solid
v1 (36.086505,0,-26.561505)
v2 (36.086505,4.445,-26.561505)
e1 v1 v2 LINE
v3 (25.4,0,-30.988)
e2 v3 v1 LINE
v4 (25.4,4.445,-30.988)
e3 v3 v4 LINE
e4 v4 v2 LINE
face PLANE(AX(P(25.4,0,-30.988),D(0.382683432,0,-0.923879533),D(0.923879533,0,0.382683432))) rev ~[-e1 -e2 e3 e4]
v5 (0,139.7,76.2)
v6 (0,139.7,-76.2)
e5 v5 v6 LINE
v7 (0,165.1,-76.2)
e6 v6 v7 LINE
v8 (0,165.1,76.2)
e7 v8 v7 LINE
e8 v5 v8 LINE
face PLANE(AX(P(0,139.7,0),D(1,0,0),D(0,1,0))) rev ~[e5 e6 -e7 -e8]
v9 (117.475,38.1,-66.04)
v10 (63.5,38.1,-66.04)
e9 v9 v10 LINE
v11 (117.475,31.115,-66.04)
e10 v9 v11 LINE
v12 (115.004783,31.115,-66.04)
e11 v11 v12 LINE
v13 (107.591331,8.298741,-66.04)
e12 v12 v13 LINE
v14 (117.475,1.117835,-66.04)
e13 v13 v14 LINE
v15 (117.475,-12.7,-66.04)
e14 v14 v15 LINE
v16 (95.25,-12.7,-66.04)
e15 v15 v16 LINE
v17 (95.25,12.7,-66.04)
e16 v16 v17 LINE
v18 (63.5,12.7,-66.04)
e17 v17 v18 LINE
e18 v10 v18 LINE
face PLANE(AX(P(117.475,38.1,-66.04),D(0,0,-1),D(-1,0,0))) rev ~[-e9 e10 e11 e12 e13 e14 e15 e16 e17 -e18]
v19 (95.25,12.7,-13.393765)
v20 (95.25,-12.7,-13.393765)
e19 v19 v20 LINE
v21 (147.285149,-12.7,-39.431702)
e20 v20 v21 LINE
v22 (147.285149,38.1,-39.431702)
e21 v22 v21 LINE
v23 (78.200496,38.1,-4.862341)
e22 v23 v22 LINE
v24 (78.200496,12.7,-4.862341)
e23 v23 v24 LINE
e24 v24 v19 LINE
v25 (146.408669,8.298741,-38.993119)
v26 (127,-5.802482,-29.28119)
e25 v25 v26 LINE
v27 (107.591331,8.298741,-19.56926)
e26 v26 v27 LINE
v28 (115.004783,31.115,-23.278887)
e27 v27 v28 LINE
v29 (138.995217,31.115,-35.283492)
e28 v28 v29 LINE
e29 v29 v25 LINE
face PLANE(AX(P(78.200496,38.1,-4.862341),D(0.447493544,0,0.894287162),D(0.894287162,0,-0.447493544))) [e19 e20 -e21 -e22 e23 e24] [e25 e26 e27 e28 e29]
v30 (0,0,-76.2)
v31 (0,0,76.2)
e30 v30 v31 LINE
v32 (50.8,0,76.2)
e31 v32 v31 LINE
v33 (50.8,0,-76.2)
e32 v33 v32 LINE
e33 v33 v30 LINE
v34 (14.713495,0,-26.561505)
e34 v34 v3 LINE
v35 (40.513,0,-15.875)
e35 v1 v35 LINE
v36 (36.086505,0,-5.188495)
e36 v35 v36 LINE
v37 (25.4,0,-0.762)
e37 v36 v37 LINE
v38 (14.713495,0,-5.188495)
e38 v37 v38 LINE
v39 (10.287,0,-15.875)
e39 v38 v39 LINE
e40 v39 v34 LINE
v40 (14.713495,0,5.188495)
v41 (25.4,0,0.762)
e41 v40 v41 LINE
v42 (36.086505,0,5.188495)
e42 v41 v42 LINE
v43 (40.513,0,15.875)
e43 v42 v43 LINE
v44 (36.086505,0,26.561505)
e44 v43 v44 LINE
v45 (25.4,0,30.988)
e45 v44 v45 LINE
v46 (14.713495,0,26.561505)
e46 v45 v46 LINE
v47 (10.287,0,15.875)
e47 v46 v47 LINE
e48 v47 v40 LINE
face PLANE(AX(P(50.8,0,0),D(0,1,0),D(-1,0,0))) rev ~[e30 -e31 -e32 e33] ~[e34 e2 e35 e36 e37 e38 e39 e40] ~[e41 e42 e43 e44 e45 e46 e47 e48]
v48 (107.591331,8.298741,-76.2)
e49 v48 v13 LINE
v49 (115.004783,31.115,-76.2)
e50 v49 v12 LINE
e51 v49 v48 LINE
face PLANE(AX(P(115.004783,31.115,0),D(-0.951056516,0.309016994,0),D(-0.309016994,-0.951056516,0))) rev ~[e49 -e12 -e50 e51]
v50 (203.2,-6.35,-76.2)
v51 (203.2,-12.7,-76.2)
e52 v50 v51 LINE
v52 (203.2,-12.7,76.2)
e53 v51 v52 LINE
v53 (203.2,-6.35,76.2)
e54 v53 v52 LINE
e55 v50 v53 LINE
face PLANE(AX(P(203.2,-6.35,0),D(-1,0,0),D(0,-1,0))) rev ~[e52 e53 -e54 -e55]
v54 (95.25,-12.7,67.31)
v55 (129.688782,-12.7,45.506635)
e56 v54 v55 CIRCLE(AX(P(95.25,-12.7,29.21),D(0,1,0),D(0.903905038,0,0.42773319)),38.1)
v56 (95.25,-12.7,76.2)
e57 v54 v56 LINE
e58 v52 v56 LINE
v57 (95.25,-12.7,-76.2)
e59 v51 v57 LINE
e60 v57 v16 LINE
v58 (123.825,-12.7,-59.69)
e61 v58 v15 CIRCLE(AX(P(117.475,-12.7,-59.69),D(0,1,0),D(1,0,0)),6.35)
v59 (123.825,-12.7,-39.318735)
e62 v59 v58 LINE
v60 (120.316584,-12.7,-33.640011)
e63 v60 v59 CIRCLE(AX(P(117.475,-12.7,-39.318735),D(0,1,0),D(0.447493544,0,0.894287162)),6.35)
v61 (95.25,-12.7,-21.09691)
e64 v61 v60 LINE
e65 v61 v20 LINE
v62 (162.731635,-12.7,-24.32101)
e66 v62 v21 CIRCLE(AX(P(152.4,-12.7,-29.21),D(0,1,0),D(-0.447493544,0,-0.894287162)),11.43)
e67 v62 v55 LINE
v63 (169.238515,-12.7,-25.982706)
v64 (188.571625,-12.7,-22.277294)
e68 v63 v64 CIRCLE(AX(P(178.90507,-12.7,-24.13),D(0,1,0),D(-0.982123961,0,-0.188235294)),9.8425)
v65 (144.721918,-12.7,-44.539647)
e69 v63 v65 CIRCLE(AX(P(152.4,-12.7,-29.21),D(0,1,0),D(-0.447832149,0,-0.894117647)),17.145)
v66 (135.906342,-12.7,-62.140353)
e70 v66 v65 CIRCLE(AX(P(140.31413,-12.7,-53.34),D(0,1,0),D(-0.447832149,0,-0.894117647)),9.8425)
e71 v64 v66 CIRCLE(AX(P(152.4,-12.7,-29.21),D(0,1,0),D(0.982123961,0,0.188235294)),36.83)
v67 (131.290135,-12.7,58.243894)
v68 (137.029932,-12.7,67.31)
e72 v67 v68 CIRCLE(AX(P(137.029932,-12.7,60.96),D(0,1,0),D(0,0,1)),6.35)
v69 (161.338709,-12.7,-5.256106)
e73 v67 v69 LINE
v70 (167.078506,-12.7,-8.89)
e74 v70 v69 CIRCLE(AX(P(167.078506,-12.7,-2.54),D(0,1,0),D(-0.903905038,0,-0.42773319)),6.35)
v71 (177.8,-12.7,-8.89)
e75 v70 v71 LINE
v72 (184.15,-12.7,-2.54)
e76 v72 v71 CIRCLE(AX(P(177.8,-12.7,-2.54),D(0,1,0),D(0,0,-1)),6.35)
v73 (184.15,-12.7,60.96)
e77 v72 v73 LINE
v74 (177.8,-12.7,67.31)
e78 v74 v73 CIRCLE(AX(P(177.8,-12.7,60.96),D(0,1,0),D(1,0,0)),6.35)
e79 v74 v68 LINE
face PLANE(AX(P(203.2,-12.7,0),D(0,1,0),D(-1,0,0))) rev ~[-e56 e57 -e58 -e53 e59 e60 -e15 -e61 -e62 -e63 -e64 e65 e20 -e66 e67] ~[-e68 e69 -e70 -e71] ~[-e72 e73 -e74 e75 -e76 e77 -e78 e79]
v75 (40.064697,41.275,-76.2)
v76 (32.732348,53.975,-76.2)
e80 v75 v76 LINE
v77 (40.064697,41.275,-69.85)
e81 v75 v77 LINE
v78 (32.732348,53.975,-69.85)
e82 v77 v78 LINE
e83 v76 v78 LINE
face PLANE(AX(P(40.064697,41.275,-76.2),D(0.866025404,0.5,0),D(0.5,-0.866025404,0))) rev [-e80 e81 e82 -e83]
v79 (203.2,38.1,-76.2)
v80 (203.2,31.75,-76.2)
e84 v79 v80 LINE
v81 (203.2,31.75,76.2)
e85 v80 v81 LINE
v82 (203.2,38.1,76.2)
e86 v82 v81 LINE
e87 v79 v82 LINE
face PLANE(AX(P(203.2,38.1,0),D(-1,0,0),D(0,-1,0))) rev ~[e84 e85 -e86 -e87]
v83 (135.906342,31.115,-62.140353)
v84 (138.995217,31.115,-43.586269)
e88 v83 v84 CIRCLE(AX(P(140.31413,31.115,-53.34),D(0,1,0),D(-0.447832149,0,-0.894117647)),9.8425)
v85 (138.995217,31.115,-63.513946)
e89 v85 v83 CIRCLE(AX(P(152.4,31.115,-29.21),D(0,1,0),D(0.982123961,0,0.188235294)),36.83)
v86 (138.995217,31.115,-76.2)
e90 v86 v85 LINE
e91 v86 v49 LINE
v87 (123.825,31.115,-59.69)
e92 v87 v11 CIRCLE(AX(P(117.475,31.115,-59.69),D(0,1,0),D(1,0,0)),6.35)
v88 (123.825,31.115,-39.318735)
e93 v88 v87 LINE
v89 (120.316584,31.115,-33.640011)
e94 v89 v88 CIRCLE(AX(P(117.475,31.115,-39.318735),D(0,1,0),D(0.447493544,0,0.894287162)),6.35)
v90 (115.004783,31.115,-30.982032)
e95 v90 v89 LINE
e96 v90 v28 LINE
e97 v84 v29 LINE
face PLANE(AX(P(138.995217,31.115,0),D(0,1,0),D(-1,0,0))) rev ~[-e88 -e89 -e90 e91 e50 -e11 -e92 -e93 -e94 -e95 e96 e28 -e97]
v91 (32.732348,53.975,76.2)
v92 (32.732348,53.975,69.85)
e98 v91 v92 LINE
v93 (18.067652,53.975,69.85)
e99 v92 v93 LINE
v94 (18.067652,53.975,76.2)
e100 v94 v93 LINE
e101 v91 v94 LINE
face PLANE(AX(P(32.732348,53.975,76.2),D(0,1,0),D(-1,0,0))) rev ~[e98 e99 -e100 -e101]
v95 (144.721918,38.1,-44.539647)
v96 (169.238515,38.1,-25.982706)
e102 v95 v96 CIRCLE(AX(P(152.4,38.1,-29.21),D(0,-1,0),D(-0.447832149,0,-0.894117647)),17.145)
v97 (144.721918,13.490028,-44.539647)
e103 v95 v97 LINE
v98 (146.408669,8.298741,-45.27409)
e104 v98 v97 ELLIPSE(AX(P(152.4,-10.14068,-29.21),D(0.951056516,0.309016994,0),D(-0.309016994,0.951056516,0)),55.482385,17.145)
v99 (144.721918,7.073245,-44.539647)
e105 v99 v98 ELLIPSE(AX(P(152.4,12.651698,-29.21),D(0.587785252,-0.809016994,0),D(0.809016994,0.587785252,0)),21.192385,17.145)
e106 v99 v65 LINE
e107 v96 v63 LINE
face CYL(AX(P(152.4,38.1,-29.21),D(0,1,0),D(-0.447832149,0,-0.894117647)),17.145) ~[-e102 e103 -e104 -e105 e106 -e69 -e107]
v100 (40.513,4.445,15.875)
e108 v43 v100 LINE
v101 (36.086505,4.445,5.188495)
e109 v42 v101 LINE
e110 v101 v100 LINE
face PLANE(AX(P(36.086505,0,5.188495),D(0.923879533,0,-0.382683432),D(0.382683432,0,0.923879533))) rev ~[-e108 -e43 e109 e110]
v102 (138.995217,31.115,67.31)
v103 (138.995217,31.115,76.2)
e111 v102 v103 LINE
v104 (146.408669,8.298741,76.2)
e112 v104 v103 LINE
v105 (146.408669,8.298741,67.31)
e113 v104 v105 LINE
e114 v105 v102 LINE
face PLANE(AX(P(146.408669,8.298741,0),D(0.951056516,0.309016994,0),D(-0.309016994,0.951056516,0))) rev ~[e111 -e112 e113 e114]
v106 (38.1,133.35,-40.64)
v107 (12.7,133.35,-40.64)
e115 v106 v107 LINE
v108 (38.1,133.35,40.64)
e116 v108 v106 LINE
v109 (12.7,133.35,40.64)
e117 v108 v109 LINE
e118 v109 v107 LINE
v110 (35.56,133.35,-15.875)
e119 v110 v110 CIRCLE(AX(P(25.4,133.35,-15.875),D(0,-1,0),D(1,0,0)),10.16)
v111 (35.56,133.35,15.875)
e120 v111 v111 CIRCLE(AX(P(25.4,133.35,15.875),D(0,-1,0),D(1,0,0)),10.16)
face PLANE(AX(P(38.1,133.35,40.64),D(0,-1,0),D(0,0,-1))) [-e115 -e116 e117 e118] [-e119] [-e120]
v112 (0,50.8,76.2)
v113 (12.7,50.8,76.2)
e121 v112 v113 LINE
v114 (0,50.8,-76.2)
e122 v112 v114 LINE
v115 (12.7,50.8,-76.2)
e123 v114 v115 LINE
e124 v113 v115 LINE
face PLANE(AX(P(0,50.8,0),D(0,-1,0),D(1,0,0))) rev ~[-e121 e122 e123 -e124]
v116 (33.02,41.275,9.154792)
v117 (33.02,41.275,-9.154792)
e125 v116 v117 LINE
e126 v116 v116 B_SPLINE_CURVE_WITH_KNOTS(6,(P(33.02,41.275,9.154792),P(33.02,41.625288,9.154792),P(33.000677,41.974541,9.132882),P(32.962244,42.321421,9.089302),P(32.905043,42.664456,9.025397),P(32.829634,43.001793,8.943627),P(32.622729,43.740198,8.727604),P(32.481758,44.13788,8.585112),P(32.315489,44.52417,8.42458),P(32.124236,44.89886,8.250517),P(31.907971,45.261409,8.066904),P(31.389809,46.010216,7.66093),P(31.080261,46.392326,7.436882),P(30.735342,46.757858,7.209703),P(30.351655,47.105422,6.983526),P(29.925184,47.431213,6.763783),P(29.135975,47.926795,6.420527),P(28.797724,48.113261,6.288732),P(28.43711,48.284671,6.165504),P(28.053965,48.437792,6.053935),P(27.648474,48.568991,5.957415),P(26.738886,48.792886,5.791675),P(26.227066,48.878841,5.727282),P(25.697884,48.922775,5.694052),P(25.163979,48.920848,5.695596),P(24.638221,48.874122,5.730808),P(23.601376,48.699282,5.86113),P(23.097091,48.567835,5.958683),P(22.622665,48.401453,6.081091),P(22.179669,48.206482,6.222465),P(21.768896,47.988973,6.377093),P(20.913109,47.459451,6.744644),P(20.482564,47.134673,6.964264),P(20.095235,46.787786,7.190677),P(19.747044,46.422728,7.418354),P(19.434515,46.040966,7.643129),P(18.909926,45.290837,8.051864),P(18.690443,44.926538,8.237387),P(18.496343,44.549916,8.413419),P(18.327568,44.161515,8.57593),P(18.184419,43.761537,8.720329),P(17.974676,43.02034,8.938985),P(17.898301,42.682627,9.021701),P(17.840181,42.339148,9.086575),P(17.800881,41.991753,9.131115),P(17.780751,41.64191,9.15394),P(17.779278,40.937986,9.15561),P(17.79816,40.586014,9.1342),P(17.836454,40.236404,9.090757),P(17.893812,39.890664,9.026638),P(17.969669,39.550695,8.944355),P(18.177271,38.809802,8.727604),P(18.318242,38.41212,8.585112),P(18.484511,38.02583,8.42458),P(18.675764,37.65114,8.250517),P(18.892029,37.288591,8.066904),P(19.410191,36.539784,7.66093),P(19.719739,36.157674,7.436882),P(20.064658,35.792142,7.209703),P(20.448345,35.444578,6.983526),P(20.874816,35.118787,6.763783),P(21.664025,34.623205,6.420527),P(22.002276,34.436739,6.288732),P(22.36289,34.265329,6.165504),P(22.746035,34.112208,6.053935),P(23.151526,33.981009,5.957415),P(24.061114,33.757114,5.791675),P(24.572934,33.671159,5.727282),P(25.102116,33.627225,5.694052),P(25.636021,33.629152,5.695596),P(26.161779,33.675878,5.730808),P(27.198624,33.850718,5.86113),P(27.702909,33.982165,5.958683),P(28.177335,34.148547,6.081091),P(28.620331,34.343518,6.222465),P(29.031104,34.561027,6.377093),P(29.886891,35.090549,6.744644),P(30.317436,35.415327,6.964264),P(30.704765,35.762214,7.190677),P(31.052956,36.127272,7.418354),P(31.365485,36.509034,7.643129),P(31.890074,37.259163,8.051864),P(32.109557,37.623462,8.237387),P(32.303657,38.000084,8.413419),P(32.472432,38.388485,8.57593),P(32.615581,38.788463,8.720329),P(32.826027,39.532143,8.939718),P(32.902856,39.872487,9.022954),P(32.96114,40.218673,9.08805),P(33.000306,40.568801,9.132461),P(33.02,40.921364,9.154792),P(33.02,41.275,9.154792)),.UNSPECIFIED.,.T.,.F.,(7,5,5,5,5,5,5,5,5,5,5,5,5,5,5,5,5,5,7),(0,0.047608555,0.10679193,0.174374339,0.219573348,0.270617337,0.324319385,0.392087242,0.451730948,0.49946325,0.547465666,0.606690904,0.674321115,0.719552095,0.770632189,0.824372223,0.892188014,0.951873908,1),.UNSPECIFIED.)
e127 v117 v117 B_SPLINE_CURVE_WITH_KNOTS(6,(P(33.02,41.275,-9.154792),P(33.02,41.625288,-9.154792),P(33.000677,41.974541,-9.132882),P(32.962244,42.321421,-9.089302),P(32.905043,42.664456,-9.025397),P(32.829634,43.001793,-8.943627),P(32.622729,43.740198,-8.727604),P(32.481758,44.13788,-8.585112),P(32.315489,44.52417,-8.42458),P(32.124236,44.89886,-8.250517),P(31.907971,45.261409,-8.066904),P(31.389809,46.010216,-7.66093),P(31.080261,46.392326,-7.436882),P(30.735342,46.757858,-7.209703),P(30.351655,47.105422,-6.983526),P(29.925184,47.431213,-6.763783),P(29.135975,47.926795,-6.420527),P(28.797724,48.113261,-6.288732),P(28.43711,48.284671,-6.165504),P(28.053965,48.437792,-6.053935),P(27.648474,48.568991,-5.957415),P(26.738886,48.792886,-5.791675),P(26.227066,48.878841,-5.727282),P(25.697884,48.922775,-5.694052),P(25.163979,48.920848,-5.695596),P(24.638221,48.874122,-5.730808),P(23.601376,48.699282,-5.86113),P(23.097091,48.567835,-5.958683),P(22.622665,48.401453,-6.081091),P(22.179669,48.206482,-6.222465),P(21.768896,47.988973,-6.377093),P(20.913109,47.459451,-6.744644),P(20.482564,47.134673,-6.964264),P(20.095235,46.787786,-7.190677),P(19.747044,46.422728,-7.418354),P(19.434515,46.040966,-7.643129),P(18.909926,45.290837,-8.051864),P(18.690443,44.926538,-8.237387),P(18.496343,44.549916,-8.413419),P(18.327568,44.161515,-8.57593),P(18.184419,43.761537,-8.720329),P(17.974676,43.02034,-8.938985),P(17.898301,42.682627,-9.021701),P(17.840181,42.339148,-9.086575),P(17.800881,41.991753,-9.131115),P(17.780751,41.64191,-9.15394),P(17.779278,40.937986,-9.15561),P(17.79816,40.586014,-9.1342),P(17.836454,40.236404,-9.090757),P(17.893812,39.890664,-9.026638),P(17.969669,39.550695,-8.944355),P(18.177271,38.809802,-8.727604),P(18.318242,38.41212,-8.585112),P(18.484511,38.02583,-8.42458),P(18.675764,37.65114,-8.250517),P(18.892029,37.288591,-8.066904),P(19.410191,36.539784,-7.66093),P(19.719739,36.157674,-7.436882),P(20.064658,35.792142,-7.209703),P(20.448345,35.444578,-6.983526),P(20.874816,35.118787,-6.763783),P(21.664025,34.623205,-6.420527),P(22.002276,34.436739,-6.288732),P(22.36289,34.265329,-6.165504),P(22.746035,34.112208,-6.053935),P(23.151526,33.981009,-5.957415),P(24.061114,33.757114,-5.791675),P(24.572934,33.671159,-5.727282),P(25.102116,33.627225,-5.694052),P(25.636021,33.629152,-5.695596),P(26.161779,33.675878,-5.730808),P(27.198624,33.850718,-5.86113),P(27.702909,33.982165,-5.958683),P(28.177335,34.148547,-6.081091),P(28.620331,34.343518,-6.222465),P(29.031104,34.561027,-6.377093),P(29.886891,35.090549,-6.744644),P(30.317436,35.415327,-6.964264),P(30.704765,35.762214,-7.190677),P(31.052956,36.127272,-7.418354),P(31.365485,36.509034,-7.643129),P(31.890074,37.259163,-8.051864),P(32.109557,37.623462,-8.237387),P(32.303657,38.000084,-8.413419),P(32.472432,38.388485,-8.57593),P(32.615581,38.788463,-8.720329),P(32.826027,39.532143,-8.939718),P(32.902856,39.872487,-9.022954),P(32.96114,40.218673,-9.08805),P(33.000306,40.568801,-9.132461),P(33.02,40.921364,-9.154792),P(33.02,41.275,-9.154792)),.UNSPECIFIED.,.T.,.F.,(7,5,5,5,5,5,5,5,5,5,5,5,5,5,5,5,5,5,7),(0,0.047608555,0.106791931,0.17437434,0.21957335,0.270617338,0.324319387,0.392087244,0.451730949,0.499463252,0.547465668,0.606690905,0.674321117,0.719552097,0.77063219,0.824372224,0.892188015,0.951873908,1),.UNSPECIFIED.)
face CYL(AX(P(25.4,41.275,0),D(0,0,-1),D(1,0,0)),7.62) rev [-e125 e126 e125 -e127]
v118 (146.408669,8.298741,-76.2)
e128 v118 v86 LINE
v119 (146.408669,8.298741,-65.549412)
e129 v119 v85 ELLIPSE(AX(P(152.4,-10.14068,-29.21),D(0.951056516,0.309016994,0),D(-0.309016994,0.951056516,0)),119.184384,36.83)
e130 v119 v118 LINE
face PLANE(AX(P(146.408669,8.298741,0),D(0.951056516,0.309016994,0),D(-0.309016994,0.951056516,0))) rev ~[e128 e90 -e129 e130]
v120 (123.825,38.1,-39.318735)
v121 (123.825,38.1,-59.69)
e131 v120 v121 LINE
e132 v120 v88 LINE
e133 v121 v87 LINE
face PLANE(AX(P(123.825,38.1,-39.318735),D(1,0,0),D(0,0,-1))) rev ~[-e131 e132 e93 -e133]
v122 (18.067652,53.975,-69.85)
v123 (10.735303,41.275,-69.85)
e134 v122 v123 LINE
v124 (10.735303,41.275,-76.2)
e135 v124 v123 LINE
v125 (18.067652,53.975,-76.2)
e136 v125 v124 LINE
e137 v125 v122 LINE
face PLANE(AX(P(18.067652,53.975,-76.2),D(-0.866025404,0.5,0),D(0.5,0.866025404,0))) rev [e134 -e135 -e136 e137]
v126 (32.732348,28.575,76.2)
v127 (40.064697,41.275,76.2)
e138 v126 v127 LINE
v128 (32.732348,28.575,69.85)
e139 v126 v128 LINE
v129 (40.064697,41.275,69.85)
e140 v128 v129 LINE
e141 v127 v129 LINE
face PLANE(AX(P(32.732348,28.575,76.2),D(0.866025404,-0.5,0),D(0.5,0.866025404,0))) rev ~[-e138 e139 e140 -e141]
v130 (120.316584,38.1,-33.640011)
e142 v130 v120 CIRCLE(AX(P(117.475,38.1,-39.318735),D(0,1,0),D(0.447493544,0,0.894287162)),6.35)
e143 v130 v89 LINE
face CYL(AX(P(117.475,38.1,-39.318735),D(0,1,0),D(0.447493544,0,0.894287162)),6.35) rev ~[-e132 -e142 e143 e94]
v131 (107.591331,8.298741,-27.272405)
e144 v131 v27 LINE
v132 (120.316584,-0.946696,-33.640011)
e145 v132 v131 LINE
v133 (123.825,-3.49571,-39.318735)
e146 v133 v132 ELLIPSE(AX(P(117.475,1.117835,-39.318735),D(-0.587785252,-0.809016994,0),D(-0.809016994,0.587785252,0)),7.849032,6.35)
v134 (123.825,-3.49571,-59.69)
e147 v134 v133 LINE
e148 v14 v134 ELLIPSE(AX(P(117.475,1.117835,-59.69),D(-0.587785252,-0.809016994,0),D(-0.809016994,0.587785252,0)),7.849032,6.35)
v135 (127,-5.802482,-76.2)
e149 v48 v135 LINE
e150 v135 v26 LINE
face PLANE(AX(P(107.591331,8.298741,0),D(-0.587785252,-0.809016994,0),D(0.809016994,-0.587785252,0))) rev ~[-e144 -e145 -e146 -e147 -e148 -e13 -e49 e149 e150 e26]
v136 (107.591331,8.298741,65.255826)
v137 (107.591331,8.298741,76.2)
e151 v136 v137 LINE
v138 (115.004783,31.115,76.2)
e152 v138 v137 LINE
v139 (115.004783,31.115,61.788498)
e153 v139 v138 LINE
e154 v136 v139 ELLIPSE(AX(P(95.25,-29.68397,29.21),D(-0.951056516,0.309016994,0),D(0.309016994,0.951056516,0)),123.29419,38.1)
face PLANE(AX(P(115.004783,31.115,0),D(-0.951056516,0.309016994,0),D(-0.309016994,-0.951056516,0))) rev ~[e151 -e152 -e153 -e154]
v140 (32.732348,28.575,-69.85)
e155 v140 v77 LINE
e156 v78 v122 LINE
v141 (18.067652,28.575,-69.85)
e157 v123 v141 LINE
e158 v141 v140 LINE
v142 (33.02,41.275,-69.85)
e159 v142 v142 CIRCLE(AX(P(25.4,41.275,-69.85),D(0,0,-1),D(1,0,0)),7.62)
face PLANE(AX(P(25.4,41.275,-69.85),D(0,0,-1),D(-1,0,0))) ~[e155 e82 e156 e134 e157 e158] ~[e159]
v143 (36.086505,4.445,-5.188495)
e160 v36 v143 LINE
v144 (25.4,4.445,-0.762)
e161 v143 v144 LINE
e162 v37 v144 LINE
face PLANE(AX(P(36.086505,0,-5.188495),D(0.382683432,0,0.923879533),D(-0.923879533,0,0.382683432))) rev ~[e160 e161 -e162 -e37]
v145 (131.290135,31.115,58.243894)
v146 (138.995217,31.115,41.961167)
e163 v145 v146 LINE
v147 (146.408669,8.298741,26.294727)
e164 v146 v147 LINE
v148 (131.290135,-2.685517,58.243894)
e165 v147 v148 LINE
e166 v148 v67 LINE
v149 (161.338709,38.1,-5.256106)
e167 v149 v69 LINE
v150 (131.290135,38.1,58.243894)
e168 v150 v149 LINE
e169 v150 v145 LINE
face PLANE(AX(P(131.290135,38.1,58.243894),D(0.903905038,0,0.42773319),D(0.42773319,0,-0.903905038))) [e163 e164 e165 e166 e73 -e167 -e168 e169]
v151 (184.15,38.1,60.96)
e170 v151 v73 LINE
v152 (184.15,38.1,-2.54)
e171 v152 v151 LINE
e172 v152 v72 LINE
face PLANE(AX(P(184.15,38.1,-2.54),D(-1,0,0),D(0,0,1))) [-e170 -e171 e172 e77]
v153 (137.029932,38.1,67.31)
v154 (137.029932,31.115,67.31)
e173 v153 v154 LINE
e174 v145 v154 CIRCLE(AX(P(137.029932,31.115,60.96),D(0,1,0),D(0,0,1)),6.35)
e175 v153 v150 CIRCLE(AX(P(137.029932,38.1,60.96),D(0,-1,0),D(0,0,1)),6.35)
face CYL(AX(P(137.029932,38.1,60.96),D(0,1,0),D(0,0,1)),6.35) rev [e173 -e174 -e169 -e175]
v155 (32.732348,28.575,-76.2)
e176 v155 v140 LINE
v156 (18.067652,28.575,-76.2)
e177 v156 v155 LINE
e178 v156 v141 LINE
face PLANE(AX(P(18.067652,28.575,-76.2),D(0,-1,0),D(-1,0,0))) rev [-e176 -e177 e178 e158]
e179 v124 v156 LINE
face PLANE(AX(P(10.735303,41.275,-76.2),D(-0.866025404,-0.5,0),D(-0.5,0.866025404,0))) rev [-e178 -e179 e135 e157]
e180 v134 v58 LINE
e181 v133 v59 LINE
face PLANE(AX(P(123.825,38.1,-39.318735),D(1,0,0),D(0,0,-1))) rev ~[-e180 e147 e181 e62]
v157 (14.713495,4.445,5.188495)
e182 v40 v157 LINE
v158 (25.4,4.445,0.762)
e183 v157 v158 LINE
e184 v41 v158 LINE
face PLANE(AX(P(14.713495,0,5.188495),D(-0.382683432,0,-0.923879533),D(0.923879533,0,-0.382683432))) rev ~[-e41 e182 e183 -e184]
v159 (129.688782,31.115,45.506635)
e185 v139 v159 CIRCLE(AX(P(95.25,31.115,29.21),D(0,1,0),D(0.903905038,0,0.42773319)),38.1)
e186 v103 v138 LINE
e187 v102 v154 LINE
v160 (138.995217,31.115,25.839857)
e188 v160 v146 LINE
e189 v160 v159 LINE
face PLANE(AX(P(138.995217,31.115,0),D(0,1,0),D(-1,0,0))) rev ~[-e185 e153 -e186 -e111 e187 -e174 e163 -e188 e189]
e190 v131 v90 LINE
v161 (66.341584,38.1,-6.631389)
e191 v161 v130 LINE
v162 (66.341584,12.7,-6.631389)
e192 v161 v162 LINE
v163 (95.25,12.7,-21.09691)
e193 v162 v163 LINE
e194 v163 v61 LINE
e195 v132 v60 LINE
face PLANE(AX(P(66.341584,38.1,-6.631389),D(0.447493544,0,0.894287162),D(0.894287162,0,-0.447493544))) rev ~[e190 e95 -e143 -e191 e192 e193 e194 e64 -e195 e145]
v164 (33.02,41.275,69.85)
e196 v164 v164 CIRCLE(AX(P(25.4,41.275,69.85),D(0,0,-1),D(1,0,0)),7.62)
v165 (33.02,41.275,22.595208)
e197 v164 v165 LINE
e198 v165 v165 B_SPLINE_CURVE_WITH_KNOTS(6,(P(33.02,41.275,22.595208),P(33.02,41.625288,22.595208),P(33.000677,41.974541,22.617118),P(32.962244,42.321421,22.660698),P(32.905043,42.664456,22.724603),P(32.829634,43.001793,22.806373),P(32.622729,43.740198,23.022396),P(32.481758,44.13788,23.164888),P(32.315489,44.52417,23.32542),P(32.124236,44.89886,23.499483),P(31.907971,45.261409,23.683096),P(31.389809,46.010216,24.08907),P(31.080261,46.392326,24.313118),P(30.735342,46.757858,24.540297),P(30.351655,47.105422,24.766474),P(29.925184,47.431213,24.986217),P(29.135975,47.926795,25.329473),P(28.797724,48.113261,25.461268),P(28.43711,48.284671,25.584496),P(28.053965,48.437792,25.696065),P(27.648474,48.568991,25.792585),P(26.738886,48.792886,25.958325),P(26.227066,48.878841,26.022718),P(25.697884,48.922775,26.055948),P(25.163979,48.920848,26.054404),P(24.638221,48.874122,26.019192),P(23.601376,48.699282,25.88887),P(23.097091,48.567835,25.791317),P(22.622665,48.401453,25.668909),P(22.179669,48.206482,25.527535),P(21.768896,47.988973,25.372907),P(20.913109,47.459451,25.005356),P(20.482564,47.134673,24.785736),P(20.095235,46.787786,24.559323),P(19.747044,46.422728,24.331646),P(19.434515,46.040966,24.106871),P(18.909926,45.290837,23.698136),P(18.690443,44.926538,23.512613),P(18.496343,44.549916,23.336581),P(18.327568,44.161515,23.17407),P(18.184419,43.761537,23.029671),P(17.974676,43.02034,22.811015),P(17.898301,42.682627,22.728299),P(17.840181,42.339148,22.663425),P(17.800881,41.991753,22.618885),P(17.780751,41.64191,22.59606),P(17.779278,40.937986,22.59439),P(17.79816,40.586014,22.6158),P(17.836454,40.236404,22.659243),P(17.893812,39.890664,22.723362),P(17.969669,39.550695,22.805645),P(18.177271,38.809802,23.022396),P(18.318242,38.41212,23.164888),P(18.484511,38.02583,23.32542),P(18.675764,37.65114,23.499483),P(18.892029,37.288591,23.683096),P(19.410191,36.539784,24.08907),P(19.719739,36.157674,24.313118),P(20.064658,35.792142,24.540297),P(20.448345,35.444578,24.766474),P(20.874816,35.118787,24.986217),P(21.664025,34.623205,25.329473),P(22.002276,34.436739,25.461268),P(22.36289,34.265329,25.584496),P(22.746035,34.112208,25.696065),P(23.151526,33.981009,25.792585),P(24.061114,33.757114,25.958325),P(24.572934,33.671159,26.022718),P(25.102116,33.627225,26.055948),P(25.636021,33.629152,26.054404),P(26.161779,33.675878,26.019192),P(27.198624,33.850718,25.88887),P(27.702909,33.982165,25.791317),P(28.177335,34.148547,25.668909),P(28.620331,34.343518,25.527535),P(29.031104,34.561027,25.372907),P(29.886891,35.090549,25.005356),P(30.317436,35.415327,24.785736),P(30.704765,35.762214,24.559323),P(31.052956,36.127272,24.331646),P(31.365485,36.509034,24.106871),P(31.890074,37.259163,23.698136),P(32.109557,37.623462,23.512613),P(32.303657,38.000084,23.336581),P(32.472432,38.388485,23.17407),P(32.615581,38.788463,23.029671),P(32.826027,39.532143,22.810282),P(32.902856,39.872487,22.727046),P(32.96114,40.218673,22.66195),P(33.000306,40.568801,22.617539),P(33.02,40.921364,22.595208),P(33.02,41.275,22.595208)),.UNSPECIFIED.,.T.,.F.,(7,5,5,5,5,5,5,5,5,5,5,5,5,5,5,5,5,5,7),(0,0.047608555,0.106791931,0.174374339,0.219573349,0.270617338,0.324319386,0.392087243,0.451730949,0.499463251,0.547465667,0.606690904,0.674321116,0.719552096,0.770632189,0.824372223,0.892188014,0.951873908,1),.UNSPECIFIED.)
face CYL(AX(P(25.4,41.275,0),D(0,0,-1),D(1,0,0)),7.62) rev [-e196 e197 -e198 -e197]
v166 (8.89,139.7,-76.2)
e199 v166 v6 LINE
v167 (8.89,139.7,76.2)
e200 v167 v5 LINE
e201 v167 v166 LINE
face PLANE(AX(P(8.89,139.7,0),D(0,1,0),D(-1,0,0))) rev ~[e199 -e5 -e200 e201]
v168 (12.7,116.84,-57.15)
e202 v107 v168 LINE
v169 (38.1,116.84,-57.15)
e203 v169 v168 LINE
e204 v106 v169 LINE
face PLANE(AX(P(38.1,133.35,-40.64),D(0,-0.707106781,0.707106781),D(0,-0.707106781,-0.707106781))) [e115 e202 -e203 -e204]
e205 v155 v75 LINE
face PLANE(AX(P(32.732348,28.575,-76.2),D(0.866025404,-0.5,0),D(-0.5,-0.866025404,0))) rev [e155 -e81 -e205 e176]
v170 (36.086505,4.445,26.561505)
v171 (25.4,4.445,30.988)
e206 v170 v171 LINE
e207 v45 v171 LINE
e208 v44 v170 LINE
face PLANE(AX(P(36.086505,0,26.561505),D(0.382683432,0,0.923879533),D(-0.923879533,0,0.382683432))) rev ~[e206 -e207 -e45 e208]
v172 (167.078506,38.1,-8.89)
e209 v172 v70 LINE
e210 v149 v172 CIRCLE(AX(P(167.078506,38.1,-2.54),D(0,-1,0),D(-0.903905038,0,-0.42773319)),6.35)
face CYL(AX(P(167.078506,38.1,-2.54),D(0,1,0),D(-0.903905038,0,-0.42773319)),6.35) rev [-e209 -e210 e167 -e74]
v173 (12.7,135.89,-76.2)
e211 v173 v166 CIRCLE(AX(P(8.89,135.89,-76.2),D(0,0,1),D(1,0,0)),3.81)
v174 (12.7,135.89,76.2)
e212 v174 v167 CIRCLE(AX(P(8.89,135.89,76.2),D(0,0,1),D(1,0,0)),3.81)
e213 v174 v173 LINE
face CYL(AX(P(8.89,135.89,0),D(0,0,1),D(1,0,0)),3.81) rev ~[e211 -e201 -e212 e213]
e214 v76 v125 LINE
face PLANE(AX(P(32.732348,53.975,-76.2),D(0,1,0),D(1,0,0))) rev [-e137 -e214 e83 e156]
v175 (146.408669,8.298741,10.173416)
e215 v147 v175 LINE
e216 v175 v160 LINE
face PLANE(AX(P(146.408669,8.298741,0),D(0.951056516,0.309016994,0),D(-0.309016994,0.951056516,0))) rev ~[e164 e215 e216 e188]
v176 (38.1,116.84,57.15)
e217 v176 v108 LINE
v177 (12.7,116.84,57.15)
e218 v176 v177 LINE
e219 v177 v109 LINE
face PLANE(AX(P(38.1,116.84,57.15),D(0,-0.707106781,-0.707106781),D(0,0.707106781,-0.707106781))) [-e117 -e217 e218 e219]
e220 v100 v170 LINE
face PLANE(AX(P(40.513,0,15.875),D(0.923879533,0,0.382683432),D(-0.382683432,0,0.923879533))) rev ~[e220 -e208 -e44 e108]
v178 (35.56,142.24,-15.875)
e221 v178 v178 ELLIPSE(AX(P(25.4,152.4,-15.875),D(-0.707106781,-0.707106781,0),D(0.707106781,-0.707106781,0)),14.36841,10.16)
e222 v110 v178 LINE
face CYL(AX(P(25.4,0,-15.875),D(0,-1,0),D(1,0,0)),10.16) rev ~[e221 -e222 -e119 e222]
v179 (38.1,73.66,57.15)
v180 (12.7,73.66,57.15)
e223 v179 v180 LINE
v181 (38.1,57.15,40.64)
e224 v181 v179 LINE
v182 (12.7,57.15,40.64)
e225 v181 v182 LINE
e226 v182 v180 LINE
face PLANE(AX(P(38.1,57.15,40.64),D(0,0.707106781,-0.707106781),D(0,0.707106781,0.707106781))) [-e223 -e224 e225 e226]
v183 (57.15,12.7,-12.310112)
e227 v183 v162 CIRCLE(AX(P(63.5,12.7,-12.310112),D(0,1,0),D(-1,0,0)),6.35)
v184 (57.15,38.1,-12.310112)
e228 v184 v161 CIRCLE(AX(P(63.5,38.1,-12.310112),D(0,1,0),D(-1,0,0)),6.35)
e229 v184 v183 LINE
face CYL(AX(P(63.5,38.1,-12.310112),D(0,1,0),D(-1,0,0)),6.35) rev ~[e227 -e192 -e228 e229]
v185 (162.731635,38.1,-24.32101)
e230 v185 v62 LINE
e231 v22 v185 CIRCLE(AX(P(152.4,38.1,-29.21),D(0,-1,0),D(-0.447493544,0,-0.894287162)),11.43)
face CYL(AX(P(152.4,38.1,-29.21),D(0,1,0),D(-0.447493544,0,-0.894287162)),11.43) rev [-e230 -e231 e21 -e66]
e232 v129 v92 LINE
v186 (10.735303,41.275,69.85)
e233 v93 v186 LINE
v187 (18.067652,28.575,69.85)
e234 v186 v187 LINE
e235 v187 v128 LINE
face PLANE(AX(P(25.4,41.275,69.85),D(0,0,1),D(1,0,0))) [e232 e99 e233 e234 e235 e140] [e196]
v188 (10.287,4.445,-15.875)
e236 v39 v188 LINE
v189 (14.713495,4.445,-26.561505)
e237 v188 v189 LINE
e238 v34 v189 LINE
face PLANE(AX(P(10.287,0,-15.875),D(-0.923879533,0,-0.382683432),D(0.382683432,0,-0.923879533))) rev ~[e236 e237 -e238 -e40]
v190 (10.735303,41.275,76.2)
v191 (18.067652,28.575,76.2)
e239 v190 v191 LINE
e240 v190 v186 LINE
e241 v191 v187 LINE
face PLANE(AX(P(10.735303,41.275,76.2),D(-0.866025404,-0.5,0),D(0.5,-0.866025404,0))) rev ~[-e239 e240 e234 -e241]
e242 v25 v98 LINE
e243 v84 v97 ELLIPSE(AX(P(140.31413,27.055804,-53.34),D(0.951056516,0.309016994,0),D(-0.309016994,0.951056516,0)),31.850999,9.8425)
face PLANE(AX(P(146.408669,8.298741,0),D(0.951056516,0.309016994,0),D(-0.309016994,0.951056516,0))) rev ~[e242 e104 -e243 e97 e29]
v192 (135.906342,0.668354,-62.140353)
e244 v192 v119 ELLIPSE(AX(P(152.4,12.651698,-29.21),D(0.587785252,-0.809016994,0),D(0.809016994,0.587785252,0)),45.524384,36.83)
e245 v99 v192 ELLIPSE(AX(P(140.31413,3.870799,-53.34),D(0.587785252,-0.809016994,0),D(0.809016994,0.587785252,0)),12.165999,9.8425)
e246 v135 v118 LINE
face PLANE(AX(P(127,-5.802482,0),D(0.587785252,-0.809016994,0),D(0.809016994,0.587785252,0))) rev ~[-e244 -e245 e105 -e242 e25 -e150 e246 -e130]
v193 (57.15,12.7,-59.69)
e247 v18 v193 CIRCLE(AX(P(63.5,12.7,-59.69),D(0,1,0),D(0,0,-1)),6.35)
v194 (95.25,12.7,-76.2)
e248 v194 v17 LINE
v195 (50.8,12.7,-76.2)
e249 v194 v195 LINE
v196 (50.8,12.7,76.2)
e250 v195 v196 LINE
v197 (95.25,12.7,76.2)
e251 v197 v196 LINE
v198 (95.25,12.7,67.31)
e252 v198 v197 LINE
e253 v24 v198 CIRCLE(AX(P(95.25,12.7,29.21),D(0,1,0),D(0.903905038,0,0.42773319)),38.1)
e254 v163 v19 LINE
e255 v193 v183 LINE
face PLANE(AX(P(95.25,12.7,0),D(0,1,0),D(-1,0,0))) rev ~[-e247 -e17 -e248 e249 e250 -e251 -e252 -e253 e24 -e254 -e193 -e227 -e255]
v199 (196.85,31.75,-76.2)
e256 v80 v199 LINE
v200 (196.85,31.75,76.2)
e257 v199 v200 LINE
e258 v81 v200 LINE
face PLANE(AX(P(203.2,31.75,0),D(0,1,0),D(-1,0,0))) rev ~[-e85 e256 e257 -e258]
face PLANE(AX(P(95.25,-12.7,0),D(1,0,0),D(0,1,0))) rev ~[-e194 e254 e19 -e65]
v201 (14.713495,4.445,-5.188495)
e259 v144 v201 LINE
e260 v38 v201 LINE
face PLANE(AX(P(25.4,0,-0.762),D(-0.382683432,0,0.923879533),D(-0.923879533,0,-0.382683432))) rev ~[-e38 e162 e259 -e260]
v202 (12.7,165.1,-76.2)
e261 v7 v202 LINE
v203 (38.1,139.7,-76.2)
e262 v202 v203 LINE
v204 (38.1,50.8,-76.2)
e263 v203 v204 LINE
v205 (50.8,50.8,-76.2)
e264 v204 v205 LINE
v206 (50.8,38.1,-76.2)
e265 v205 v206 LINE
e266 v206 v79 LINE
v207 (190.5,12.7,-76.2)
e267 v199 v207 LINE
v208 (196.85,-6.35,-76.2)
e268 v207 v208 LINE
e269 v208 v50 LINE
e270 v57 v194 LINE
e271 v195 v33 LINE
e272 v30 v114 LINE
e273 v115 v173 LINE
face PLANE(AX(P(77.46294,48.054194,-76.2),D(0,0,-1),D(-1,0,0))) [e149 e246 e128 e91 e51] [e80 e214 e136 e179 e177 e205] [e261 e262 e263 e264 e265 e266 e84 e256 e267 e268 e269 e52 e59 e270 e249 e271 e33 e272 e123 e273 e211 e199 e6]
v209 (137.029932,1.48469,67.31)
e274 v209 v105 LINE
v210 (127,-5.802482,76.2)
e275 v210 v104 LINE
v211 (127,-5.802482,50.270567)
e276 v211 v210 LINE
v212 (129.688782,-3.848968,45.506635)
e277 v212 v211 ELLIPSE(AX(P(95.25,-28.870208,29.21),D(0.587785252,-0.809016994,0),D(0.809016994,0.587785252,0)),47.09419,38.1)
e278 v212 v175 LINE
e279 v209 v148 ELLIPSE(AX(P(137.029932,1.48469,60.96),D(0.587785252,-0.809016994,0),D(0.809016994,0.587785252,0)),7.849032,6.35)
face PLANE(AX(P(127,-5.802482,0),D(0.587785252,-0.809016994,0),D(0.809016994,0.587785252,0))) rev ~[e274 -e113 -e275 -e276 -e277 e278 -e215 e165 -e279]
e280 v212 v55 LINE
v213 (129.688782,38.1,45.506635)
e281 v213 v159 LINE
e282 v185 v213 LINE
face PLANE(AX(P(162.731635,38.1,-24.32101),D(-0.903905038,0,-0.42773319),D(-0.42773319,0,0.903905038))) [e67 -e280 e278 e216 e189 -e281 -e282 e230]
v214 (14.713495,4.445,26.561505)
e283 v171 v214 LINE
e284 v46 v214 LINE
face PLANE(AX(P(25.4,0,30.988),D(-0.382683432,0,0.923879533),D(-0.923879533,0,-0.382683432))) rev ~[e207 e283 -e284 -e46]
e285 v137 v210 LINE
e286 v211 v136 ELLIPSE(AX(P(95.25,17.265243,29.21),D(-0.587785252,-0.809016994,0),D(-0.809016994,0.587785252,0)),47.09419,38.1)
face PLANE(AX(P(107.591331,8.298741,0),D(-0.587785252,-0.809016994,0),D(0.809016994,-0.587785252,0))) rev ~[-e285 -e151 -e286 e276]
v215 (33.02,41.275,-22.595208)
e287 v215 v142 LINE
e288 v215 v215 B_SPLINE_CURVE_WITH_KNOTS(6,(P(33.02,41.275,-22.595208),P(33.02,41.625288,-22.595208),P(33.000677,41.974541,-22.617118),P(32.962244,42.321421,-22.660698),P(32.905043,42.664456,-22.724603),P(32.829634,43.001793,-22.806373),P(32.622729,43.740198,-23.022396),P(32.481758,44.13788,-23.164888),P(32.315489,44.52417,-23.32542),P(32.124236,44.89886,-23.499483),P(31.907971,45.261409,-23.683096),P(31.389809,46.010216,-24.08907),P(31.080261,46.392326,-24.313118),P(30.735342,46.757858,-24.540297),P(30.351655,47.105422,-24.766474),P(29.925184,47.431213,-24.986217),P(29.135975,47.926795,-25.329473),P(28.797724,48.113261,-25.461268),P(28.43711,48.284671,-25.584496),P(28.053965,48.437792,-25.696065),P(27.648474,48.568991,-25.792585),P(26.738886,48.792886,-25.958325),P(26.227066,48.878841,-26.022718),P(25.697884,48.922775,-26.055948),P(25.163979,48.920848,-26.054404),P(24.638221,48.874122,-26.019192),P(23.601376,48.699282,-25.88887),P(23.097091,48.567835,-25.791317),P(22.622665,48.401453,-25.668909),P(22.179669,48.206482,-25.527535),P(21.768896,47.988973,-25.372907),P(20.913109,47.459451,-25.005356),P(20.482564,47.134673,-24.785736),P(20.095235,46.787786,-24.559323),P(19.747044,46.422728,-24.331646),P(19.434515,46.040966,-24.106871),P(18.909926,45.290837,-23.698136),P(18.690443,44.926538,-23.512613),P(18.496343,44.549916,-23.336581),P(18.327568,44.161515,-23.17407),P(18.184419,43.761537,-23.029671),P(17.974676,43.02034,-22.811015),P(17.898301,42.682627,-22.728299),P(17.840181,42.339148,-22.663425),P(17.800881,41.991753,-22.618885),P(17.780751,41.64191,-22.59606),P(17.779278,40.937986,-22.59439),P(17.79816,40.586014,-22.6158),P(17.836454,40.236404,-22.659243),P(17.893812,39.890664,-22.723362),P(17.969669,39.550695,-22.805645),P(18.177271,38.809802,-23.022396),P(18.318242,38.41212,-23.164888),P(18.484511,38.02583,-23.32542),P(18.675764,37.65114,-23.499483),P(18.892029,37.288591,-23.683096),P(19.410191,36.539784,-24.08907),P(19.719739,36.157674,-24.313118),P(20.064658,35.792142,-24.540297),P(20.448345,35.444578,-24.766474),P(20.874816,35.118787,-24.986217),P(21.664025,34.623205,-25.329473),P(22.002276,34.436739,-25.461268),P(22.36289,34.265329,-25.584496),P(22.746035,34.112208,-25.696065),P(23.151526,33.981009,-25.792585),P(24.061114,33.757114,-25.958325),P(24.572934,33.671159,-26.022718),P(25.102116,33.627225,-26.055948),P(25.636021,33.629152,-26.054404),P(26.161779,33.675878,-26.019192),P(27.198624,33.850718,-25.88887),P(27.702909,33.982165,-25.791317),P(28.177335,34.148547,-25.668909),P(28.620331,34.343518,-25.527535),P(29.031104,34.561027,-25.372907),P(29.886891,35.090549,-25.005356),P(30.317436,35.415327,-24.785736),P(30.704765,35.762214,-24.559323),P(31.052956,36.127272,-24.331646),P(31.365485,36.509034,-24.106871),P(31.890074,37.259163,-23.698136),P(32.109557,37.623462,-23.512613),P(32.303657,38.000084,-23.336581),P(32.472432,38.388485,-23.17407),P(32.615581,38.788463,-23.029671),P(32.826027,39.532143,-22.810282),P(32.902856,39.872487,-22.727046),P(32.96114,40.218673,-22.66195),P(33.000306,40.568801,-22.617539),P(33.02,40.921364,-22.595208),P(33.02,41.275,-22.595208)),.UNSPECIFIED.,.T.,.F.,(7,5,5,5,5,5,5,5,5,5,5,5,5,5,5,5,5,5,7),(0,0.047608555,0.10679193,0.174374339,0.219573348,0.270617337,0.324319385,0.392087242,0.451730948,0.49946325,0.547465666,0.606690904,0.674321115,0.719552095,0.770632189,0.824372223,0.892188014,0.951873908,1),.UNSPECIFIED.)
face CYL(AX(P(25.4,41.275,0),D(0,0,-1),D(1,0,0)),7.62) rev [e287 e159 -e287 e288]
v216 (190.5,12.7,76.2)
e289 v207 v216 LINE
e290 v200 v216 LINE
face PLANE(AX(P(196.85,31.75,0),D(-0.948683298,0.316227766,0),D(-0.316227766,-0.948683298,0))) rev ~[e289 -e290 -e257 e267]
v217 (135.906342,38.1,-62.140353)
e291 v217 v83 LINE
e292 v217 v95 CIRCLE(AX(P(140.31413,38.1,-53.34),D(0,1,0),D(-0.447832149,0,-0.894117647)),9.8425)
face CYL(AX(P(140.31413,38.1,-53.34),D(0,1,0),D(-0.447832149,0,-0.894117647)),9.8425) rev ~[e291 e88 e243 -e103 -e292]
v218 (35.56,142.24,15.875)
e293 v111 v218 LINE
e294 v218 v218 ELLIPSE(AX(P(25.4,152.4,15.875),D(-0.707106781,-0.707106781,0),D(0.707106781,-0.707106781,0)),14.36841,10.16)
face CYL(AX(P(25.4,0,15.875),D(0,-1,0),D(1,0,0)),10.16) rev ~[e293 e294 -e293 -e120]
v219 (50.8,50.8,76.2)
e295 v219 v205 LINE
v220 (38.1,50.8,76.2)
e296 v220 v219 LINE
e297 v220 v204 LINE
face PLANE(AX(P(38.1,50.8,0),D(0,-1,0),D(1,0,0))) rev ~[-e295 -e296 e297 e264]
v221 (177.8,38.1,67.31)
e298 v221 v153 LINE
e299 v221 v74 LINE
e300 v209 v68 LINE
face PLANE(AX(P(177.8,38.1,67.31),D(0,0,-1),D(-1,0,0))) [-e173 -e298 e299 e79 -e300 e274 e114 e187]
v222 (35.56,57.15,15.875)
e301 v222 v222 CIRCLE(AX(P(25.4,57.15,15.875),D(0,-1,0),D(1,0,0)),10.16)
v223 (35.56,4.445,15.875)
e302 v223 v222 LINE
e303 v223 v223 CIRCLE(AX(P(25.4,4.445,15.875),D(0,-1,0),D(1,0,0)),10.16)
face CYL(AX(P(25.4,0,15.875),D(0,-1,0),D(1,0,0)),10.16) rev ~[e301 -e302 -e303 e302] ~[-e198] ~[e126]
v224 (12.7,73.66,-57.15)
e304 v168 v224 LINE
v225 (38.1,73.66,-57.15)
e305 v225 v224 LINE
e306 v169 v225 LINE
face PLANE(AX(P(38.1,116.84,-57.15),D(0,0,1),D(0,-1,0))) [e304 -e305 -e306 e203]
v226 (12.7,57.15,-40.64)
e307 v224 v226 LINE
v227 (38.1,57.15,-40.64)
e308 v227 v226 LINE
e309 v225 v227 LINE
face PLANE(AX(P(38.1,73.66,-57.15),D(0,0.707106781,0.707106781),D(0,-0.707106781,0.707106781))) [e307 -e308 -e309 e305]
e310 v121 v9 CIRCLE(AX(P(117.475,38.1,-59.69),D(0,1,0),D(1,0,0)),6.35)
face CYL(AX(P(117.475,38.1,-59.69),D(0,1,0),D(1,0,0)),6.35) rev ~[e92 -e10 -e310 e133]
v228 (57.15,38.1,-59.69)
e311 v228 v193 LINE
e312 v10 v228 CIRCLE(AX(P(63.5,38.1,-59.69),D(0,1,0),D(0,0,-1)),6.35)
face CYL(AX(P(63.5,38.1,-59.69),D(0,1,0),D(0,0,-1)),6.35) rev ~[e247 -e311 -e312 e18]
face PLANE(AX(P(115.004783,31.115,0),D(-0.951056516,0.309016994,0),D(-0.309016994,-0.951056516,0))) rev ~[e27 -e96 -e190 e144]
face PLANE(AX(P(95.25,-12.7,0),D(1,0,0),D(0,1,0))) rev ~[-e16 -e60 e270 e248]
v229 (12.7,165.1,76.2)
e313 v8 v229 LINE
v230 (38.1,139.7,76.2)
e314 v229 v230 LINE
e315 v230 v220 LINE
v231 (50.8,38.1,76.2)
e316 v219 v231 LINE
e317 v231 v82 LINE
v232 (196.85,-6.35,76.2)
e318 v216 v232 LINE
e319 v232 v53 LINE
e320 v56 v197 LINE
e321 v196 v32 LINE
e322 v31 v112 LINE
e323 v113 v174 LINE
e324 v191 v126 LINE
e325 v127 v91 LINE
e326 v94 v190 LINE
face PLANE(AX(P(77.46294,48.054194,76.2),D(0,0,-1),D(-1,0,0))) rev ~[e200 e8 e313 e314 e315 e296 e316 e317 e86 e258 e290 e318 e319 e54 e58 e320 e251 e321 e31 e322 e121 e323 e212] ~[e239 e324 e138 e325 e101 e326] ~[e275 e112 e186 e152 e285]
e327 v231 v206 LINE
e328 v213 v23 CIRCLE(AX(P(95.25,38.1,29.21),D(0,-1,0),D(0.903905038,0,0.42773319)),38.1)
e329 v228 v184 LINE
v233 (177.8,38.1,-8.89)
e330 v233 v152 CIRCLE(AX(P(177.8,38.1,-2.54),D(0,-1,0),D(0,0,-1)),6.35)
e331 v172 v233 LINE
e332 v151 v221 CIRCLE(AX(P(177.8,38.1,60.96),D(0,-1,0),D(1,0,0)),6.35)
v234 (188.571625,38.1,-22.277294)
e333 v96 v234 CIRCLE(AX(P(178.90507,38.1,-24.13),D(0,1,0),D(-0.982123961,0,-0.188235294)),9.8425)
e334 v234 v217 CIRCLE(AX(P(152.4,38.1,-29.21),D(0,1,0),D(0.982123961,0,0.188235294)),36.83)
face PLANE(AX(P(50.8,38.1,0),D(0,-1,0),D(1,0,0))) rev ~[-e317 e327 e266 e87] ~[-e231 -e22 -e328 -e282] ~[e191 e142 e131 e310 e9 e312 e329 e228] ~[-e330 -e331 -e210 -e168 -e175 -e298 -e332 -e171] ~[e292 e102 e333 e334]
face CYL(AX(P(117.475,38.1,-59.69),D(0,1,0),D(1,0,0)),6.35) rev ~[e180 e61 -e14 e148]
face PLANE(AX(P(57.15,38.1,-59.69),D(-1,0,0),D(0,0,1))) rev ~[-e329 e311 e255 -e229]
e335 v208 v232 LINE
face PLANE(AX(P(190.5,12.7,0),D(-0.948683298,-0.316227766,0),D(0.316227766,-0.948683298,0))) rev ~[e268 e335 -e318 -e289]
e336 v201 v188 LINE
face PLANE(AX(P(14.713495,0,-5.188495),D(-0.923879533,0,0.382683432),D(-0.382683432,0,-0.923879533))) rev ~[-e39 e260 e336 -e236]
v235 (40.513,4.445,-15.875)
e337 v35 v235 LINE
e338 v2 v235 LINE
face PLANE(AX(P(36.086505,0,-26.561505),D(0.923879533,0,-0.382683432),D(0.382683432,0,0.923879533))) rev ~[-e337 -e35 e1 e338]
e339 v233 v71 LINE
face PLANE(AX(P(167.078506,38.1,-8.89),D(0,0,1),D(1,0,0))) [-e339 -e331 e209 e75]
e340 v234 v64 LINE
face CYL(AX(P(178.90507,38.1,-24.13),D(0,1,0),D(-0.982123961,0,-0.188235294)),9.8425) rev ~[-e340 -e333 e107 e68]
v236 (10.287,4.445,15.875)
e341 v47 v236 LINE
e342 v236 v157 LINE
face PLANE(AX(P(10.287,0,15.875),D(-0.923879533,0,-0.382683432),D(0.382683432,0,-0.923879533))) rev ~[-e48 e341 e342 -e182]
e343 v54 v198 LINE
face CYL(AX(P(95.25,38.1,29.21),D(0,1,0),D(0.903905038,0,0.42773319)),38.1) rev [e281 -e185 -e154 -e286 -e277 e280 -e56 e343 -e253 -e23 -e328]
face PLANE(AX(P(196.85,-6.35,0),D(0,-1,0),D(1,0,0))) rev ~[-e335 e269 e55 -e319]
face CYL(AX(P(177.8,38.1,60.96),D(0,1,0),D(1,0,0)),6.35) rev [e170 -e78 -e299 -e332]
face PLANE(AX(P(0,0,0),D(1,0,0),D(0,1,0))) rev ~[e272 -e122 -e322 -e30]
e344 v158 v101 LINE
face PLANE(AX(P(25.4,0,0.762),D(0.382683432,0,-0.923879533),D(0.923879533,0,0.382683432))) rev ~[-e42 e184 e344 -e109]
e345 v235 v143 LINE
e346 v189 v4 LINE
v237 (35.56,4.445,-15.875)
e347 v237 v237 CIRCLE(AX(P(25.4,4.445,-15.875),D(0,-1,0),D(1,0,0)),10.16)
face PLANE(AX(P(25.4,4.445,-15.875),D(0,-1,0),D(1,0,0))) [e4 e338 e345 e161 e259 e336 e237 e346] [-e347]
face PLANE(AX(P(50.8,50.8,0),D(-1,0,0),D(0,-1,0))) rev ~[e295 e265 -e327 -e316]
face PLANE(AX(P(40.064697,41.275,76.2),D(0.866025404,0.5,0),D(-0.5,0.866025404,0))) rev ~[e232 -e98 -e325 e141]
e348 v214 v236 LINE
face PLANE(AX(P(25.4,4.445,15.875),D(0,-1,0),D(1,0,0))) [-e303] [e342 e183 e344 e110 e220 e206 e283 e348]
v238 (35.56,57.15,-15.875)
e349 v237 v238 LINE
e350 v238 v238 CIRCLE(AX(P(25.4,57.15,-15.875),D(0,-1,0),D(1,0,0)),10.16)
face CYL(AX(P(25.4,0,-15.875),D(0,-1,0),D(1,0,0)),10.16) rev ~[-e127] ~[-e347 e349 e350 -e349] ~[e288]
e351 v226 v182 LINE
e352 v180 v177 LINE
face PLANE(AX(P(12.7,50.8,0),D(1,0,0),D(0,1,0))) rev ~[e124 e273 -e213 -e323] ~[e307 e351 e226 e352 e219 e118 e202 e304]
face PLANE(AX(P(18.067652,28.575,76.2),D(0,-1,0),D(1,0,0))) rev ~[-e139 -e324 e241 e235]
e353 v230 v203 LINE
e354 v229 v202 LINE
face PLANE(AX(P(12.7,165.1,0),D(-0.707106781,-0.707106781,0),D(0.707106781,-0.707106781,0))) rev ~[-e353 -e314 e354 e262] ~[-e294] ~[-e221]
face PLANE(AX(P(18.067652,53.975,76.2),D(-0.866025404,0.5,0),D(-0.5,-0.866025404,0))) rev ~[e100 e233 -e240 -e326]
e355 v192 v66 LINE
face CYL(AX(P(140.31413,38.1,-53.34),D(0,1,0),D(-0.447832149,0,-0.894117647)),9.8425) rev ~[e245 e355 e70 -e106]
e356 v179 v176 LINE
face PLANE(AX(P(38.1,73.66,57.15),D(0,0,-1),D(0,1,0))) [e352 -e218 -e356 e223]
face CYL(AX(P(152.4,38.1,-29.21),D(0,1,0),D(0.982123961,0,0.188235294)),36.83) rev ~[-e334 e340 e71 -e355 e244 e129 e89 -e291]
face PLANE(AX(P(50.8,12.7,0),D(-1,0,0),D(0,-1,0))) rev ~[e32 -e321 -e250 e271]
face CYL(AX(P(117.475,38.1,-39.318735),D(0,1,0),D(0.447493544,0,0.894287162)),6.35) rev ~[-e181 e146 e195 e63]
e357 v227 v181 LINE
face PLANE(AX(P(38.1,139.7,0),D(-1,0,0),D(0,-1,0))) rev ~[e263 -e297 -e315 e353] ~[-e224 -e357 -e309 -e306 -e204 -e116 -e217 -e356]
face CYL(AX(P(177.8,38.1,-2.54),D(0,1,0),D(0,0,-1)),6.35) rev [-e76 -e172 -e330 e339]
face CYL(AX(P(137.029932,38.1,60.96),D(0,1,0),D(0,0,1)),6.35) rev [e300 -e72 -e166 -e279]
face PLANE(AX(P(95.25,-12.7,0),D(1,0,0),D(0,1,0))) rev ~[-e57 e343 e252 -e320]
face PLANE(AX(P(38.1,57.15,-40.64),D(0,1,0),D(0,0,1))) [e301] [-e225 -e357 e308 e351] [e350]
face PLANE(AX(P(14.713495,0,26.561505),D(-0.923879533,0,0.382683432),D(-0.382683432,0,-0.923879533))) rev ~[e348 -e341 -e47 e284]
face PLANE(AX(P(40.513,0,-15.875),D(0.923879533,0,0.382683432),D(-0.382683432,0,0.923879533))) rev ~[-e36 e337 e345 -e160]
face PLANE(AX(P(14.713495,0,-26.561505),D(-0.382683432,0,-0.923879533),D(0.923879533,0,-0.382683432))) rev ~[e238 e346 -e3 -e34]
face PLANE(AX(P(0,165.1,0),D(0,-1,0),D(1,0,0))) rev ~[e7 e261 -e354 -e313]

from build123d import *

# Parameters (mm, degrees)
SKETCH1_R           = 7.62
BOSS_EXTRUDE1_DEPTH = 76.2
CUT_EXTRUDE1_DEPTH  = 51.8
CUT_EXTRUDE2_DEPTH  = 39.1
SKETCH4_R           = 10.16
CUT_EXTRUDE3_DEPTH  = 166.1
CUT_EXTRUDE4_DEPTH  = 4.445
CUT_EXTRUDE5_DEPTH  = 6.35


with BuildPart() as part:
    # Sketch1 → Boss-Extrude1 (new body, symmetric)
    with BuildSketch(Plane.XY):
        with BuildLine():
            Line((0, 0), (0, 50.8))
            Line((0, 50.8), (12.7, 50.8))
            Line((12.7, 50.8), (12.7, 135.89))
            ThreePointArc((12.7, 135.89), (11.584076836, 138.584076836), (8.89, 139.7))
            Line((8.89, 139.7), (0, 139.7))
            Line((0, 139.7), (0, 165.1))
            Line((0, 165.1), (12.7, 165.1))
            Line((12.7, 165.1), (38.1, 139.7))
            Line((38.1, 139.7), (38.1, 50.8))
            Line((38.1, 50.8), (50.8, 50.8))
            Line((50.8, 50.8), (50.8, 38.1))
            Line((50.8, 38.1), (203.2, 38.1))
            Line((203.2, 38.1), (203.2, 31.75))
            Line((203.2, 31.75), (196.85, 31.75))
            Line((196.85, 31.75), (190.5, 12.7))
            Line((190.5, 12.7), (196.85, -6.35))
            Line((196.85, -6.35), (203.2, -6.35))
            Line((203.2, -6.35), (203.2, -12.7))
            Line((203.2, -12.7), (95.25, -12.7))
            Line((95.25, -12.7), (95.25, 12.7))
            Line((95.25, 12.7), (50.8, 12.7))
            Line((50.8, 12.7), (50.8, 0))
            Line((50.8, 0), (0, 0))
        make_face()
        with Locations((25.4, 41.275)):
            Circle(SKETCH1_R, mode=Mode.SUBTRACT)
        Polygon((146.408669031, 8.298741154), (138.995217137, 31.115), (115.004782863, 31.115), (107.591330969, 8.298741154), (127, -5.802482309), align=None, mode=Mode.SUBTRACT)
    extrude(amount=BOSS_EXTRUDE1_DEPTH, both=True)

    # Sketch2 → Cut-Extrude1 (cut, through all)
    with BuildSketch(Plane(origin=(0, 38.1, 0), x_dir=(1, 0, 0), z_dir=(0, 1, 0))):
        with BuildLine():
            Line((57.15, 59.69), (57.15, 12.310112434))
            ThreePointArc((57.15, 12.310112434), (60.162452878, 6.907957382), (66.341584002, 6.631388955))
            Line((66.341584002, 6.631388955), (120.316584002, 33.640011057))
            ThreePointArc((120.316584002, 33.640011057), (122.877155052, 35.981187414), (123.825, 39.318734537))
            Line((123.825, 39.318734537), (123.825, 59.69))
            ThreePointArc((123.825, 59.69), (121.965128061, 64.180128061), (117.475, 66.04))
            Line((117.475, 66.04), (63.5, 66.04))
            ThreePointArc((63.5, 66.04), (59.009871939, 64.180128061), (57.15, 59.69))
        make_face()
        with BuildLine():
            Line((78.20049599, 4.862340879), (147.285148797, 39.431702264))
            ThreePointArc((147.285148797, 39.431702264), (160.392932197, 37.380552912), (162.731634589, 24.321009641))
            Line((162.731634589, 24.321009641), (129.688781962, -45.506634528))
            ThreePointArc((129.688781962, -45.506634528), (68.606892677, -56.445176375), (78.20049599, 4.862340879))
        make_face()
        with BuildLine():
            Line((131.290134658, -58.243894245), (161.338708783, 5.256105755))
            ThreePointArc((161.338708783, 5.256105755), (163.681799397, 7.905154776), (167.078505776, 8.89))
            Line((167.078505776, 8.89), (177.8, 8.89))
            ThreePointArc((177.8, 8.89), (182.290128061, 7.030128061), (184.15, 2.54))
            Line((184.15, 2.54), (184.15, -60.96))
            ThreePointArc((184.15, -60.96), (182.290128061, -65.450128061), (177.8, -67.31))
            Line((177.8, -67.31), (137.029931652, -67.31))
            ThreePointArc((137.029931652, -67.31), (131.664776876, -64.35670638), (131.290134658, -58.243894245))
        make_face()
        with BuildLine():
            ThreePointArc((188.57162547, 22.277294118), (174.627718402, 58.576263546), (135.906341971, 62.140352941))
            ThreePointArc((135.906341971, 62.140352941), (131.513776952, 48.932212079), (144.721917814, 44.539647059))
            ThreePointArc((144.721917814, 44.539647059), (162.747386153, 42.880501996), (169.238515305, 25.982705882))
            ThreePointArc((169.238515305, 25.982705882), (177.052364505, 14.463444917), (188.57162547, 22.277294118))
        make_face()
    extrude(amount=-CUT_EXTRUDE1_DEPTH, mode=Mode.SUBTRACT)

    # Sketch3 → Cut-Extrude2 (cut, through all)
    with BuildSketch(Plane(origin=(38.1, 0, 0), x_dir=(0, 0, -1), z_dir=(1, 0, 0))):
        Polygon((-40.64, 133.35), (40.64, 133.35), (57.15, 116.84), (57.15, 73.66), (40.64, 57.15), (-40.64, 57.15), (-57.15, 73.66), (-57.15, 116.84), align=None)
    extrude(amount=-CUT_EXTRUDE2_DEPTH, mode=Mode.SUBTRACT)

    # Sketch4 → Cut-Extrude3 (cut, through all)
    with BuildSketch(Plane.XZ):
        with Locations((25.4, 15.875)):
            Circle(SKETCH4_R)
        with Locations((25.4, -15.875)):
            Circle(SKETCH4_R)
    extrude(amount=-CUT_EXTRUDE3_DEPTH, mode=Mode.SUBTRACT)

    # Sketch6 → Cut-Extrude4 (cut)
    with BuildSketch(Plane.XZ):
        Polygon((25.4, 0.762), (36.086504784, 5.188495216), (40.513, 15.875), (36.086504784, 26.561504784), (25.4, 30.988), (14.713495216, 26.561504784), (10.287, 15.875), (14.713495216, 5.188495216), align=None)
        Polygon((25.4, -30.988), (36.086504784, -26.561504784), (40.513, -15.875), (36.086504784, -5.188495216), (25.4, -0.762), (14.713495216, -5.188495216), (10.287, -15.875), (14.713495216, -26.561504784), align=None)
    extrude(amount=-CUT_EXTRUDE4_DEPTH, mode=Mode.SUBTRACT)

    # Sketch7 → Cut-Extrude5 (cut)
    with BuildSketch(Plane.XY.offset(76.2)):
        Polygon((40.064696837, 41.275), (32.732348419, 53.975), (18.067651581, 53.975), (10.735303163, 41.275), (18.067651581, 28.575), (32.732348419, 28.575), align=None)
    cut_extrude5 = extrude(amount=-CUT_EXTRUDE5_DEPTH, mode=Mode.SUBTRACT)

    # Mirror1: Cut-Extrude5 across plane
    add(cut_extrude5.mirror(Plane.XY), mode=Mode.SUBTRACT)


solid = part.part
